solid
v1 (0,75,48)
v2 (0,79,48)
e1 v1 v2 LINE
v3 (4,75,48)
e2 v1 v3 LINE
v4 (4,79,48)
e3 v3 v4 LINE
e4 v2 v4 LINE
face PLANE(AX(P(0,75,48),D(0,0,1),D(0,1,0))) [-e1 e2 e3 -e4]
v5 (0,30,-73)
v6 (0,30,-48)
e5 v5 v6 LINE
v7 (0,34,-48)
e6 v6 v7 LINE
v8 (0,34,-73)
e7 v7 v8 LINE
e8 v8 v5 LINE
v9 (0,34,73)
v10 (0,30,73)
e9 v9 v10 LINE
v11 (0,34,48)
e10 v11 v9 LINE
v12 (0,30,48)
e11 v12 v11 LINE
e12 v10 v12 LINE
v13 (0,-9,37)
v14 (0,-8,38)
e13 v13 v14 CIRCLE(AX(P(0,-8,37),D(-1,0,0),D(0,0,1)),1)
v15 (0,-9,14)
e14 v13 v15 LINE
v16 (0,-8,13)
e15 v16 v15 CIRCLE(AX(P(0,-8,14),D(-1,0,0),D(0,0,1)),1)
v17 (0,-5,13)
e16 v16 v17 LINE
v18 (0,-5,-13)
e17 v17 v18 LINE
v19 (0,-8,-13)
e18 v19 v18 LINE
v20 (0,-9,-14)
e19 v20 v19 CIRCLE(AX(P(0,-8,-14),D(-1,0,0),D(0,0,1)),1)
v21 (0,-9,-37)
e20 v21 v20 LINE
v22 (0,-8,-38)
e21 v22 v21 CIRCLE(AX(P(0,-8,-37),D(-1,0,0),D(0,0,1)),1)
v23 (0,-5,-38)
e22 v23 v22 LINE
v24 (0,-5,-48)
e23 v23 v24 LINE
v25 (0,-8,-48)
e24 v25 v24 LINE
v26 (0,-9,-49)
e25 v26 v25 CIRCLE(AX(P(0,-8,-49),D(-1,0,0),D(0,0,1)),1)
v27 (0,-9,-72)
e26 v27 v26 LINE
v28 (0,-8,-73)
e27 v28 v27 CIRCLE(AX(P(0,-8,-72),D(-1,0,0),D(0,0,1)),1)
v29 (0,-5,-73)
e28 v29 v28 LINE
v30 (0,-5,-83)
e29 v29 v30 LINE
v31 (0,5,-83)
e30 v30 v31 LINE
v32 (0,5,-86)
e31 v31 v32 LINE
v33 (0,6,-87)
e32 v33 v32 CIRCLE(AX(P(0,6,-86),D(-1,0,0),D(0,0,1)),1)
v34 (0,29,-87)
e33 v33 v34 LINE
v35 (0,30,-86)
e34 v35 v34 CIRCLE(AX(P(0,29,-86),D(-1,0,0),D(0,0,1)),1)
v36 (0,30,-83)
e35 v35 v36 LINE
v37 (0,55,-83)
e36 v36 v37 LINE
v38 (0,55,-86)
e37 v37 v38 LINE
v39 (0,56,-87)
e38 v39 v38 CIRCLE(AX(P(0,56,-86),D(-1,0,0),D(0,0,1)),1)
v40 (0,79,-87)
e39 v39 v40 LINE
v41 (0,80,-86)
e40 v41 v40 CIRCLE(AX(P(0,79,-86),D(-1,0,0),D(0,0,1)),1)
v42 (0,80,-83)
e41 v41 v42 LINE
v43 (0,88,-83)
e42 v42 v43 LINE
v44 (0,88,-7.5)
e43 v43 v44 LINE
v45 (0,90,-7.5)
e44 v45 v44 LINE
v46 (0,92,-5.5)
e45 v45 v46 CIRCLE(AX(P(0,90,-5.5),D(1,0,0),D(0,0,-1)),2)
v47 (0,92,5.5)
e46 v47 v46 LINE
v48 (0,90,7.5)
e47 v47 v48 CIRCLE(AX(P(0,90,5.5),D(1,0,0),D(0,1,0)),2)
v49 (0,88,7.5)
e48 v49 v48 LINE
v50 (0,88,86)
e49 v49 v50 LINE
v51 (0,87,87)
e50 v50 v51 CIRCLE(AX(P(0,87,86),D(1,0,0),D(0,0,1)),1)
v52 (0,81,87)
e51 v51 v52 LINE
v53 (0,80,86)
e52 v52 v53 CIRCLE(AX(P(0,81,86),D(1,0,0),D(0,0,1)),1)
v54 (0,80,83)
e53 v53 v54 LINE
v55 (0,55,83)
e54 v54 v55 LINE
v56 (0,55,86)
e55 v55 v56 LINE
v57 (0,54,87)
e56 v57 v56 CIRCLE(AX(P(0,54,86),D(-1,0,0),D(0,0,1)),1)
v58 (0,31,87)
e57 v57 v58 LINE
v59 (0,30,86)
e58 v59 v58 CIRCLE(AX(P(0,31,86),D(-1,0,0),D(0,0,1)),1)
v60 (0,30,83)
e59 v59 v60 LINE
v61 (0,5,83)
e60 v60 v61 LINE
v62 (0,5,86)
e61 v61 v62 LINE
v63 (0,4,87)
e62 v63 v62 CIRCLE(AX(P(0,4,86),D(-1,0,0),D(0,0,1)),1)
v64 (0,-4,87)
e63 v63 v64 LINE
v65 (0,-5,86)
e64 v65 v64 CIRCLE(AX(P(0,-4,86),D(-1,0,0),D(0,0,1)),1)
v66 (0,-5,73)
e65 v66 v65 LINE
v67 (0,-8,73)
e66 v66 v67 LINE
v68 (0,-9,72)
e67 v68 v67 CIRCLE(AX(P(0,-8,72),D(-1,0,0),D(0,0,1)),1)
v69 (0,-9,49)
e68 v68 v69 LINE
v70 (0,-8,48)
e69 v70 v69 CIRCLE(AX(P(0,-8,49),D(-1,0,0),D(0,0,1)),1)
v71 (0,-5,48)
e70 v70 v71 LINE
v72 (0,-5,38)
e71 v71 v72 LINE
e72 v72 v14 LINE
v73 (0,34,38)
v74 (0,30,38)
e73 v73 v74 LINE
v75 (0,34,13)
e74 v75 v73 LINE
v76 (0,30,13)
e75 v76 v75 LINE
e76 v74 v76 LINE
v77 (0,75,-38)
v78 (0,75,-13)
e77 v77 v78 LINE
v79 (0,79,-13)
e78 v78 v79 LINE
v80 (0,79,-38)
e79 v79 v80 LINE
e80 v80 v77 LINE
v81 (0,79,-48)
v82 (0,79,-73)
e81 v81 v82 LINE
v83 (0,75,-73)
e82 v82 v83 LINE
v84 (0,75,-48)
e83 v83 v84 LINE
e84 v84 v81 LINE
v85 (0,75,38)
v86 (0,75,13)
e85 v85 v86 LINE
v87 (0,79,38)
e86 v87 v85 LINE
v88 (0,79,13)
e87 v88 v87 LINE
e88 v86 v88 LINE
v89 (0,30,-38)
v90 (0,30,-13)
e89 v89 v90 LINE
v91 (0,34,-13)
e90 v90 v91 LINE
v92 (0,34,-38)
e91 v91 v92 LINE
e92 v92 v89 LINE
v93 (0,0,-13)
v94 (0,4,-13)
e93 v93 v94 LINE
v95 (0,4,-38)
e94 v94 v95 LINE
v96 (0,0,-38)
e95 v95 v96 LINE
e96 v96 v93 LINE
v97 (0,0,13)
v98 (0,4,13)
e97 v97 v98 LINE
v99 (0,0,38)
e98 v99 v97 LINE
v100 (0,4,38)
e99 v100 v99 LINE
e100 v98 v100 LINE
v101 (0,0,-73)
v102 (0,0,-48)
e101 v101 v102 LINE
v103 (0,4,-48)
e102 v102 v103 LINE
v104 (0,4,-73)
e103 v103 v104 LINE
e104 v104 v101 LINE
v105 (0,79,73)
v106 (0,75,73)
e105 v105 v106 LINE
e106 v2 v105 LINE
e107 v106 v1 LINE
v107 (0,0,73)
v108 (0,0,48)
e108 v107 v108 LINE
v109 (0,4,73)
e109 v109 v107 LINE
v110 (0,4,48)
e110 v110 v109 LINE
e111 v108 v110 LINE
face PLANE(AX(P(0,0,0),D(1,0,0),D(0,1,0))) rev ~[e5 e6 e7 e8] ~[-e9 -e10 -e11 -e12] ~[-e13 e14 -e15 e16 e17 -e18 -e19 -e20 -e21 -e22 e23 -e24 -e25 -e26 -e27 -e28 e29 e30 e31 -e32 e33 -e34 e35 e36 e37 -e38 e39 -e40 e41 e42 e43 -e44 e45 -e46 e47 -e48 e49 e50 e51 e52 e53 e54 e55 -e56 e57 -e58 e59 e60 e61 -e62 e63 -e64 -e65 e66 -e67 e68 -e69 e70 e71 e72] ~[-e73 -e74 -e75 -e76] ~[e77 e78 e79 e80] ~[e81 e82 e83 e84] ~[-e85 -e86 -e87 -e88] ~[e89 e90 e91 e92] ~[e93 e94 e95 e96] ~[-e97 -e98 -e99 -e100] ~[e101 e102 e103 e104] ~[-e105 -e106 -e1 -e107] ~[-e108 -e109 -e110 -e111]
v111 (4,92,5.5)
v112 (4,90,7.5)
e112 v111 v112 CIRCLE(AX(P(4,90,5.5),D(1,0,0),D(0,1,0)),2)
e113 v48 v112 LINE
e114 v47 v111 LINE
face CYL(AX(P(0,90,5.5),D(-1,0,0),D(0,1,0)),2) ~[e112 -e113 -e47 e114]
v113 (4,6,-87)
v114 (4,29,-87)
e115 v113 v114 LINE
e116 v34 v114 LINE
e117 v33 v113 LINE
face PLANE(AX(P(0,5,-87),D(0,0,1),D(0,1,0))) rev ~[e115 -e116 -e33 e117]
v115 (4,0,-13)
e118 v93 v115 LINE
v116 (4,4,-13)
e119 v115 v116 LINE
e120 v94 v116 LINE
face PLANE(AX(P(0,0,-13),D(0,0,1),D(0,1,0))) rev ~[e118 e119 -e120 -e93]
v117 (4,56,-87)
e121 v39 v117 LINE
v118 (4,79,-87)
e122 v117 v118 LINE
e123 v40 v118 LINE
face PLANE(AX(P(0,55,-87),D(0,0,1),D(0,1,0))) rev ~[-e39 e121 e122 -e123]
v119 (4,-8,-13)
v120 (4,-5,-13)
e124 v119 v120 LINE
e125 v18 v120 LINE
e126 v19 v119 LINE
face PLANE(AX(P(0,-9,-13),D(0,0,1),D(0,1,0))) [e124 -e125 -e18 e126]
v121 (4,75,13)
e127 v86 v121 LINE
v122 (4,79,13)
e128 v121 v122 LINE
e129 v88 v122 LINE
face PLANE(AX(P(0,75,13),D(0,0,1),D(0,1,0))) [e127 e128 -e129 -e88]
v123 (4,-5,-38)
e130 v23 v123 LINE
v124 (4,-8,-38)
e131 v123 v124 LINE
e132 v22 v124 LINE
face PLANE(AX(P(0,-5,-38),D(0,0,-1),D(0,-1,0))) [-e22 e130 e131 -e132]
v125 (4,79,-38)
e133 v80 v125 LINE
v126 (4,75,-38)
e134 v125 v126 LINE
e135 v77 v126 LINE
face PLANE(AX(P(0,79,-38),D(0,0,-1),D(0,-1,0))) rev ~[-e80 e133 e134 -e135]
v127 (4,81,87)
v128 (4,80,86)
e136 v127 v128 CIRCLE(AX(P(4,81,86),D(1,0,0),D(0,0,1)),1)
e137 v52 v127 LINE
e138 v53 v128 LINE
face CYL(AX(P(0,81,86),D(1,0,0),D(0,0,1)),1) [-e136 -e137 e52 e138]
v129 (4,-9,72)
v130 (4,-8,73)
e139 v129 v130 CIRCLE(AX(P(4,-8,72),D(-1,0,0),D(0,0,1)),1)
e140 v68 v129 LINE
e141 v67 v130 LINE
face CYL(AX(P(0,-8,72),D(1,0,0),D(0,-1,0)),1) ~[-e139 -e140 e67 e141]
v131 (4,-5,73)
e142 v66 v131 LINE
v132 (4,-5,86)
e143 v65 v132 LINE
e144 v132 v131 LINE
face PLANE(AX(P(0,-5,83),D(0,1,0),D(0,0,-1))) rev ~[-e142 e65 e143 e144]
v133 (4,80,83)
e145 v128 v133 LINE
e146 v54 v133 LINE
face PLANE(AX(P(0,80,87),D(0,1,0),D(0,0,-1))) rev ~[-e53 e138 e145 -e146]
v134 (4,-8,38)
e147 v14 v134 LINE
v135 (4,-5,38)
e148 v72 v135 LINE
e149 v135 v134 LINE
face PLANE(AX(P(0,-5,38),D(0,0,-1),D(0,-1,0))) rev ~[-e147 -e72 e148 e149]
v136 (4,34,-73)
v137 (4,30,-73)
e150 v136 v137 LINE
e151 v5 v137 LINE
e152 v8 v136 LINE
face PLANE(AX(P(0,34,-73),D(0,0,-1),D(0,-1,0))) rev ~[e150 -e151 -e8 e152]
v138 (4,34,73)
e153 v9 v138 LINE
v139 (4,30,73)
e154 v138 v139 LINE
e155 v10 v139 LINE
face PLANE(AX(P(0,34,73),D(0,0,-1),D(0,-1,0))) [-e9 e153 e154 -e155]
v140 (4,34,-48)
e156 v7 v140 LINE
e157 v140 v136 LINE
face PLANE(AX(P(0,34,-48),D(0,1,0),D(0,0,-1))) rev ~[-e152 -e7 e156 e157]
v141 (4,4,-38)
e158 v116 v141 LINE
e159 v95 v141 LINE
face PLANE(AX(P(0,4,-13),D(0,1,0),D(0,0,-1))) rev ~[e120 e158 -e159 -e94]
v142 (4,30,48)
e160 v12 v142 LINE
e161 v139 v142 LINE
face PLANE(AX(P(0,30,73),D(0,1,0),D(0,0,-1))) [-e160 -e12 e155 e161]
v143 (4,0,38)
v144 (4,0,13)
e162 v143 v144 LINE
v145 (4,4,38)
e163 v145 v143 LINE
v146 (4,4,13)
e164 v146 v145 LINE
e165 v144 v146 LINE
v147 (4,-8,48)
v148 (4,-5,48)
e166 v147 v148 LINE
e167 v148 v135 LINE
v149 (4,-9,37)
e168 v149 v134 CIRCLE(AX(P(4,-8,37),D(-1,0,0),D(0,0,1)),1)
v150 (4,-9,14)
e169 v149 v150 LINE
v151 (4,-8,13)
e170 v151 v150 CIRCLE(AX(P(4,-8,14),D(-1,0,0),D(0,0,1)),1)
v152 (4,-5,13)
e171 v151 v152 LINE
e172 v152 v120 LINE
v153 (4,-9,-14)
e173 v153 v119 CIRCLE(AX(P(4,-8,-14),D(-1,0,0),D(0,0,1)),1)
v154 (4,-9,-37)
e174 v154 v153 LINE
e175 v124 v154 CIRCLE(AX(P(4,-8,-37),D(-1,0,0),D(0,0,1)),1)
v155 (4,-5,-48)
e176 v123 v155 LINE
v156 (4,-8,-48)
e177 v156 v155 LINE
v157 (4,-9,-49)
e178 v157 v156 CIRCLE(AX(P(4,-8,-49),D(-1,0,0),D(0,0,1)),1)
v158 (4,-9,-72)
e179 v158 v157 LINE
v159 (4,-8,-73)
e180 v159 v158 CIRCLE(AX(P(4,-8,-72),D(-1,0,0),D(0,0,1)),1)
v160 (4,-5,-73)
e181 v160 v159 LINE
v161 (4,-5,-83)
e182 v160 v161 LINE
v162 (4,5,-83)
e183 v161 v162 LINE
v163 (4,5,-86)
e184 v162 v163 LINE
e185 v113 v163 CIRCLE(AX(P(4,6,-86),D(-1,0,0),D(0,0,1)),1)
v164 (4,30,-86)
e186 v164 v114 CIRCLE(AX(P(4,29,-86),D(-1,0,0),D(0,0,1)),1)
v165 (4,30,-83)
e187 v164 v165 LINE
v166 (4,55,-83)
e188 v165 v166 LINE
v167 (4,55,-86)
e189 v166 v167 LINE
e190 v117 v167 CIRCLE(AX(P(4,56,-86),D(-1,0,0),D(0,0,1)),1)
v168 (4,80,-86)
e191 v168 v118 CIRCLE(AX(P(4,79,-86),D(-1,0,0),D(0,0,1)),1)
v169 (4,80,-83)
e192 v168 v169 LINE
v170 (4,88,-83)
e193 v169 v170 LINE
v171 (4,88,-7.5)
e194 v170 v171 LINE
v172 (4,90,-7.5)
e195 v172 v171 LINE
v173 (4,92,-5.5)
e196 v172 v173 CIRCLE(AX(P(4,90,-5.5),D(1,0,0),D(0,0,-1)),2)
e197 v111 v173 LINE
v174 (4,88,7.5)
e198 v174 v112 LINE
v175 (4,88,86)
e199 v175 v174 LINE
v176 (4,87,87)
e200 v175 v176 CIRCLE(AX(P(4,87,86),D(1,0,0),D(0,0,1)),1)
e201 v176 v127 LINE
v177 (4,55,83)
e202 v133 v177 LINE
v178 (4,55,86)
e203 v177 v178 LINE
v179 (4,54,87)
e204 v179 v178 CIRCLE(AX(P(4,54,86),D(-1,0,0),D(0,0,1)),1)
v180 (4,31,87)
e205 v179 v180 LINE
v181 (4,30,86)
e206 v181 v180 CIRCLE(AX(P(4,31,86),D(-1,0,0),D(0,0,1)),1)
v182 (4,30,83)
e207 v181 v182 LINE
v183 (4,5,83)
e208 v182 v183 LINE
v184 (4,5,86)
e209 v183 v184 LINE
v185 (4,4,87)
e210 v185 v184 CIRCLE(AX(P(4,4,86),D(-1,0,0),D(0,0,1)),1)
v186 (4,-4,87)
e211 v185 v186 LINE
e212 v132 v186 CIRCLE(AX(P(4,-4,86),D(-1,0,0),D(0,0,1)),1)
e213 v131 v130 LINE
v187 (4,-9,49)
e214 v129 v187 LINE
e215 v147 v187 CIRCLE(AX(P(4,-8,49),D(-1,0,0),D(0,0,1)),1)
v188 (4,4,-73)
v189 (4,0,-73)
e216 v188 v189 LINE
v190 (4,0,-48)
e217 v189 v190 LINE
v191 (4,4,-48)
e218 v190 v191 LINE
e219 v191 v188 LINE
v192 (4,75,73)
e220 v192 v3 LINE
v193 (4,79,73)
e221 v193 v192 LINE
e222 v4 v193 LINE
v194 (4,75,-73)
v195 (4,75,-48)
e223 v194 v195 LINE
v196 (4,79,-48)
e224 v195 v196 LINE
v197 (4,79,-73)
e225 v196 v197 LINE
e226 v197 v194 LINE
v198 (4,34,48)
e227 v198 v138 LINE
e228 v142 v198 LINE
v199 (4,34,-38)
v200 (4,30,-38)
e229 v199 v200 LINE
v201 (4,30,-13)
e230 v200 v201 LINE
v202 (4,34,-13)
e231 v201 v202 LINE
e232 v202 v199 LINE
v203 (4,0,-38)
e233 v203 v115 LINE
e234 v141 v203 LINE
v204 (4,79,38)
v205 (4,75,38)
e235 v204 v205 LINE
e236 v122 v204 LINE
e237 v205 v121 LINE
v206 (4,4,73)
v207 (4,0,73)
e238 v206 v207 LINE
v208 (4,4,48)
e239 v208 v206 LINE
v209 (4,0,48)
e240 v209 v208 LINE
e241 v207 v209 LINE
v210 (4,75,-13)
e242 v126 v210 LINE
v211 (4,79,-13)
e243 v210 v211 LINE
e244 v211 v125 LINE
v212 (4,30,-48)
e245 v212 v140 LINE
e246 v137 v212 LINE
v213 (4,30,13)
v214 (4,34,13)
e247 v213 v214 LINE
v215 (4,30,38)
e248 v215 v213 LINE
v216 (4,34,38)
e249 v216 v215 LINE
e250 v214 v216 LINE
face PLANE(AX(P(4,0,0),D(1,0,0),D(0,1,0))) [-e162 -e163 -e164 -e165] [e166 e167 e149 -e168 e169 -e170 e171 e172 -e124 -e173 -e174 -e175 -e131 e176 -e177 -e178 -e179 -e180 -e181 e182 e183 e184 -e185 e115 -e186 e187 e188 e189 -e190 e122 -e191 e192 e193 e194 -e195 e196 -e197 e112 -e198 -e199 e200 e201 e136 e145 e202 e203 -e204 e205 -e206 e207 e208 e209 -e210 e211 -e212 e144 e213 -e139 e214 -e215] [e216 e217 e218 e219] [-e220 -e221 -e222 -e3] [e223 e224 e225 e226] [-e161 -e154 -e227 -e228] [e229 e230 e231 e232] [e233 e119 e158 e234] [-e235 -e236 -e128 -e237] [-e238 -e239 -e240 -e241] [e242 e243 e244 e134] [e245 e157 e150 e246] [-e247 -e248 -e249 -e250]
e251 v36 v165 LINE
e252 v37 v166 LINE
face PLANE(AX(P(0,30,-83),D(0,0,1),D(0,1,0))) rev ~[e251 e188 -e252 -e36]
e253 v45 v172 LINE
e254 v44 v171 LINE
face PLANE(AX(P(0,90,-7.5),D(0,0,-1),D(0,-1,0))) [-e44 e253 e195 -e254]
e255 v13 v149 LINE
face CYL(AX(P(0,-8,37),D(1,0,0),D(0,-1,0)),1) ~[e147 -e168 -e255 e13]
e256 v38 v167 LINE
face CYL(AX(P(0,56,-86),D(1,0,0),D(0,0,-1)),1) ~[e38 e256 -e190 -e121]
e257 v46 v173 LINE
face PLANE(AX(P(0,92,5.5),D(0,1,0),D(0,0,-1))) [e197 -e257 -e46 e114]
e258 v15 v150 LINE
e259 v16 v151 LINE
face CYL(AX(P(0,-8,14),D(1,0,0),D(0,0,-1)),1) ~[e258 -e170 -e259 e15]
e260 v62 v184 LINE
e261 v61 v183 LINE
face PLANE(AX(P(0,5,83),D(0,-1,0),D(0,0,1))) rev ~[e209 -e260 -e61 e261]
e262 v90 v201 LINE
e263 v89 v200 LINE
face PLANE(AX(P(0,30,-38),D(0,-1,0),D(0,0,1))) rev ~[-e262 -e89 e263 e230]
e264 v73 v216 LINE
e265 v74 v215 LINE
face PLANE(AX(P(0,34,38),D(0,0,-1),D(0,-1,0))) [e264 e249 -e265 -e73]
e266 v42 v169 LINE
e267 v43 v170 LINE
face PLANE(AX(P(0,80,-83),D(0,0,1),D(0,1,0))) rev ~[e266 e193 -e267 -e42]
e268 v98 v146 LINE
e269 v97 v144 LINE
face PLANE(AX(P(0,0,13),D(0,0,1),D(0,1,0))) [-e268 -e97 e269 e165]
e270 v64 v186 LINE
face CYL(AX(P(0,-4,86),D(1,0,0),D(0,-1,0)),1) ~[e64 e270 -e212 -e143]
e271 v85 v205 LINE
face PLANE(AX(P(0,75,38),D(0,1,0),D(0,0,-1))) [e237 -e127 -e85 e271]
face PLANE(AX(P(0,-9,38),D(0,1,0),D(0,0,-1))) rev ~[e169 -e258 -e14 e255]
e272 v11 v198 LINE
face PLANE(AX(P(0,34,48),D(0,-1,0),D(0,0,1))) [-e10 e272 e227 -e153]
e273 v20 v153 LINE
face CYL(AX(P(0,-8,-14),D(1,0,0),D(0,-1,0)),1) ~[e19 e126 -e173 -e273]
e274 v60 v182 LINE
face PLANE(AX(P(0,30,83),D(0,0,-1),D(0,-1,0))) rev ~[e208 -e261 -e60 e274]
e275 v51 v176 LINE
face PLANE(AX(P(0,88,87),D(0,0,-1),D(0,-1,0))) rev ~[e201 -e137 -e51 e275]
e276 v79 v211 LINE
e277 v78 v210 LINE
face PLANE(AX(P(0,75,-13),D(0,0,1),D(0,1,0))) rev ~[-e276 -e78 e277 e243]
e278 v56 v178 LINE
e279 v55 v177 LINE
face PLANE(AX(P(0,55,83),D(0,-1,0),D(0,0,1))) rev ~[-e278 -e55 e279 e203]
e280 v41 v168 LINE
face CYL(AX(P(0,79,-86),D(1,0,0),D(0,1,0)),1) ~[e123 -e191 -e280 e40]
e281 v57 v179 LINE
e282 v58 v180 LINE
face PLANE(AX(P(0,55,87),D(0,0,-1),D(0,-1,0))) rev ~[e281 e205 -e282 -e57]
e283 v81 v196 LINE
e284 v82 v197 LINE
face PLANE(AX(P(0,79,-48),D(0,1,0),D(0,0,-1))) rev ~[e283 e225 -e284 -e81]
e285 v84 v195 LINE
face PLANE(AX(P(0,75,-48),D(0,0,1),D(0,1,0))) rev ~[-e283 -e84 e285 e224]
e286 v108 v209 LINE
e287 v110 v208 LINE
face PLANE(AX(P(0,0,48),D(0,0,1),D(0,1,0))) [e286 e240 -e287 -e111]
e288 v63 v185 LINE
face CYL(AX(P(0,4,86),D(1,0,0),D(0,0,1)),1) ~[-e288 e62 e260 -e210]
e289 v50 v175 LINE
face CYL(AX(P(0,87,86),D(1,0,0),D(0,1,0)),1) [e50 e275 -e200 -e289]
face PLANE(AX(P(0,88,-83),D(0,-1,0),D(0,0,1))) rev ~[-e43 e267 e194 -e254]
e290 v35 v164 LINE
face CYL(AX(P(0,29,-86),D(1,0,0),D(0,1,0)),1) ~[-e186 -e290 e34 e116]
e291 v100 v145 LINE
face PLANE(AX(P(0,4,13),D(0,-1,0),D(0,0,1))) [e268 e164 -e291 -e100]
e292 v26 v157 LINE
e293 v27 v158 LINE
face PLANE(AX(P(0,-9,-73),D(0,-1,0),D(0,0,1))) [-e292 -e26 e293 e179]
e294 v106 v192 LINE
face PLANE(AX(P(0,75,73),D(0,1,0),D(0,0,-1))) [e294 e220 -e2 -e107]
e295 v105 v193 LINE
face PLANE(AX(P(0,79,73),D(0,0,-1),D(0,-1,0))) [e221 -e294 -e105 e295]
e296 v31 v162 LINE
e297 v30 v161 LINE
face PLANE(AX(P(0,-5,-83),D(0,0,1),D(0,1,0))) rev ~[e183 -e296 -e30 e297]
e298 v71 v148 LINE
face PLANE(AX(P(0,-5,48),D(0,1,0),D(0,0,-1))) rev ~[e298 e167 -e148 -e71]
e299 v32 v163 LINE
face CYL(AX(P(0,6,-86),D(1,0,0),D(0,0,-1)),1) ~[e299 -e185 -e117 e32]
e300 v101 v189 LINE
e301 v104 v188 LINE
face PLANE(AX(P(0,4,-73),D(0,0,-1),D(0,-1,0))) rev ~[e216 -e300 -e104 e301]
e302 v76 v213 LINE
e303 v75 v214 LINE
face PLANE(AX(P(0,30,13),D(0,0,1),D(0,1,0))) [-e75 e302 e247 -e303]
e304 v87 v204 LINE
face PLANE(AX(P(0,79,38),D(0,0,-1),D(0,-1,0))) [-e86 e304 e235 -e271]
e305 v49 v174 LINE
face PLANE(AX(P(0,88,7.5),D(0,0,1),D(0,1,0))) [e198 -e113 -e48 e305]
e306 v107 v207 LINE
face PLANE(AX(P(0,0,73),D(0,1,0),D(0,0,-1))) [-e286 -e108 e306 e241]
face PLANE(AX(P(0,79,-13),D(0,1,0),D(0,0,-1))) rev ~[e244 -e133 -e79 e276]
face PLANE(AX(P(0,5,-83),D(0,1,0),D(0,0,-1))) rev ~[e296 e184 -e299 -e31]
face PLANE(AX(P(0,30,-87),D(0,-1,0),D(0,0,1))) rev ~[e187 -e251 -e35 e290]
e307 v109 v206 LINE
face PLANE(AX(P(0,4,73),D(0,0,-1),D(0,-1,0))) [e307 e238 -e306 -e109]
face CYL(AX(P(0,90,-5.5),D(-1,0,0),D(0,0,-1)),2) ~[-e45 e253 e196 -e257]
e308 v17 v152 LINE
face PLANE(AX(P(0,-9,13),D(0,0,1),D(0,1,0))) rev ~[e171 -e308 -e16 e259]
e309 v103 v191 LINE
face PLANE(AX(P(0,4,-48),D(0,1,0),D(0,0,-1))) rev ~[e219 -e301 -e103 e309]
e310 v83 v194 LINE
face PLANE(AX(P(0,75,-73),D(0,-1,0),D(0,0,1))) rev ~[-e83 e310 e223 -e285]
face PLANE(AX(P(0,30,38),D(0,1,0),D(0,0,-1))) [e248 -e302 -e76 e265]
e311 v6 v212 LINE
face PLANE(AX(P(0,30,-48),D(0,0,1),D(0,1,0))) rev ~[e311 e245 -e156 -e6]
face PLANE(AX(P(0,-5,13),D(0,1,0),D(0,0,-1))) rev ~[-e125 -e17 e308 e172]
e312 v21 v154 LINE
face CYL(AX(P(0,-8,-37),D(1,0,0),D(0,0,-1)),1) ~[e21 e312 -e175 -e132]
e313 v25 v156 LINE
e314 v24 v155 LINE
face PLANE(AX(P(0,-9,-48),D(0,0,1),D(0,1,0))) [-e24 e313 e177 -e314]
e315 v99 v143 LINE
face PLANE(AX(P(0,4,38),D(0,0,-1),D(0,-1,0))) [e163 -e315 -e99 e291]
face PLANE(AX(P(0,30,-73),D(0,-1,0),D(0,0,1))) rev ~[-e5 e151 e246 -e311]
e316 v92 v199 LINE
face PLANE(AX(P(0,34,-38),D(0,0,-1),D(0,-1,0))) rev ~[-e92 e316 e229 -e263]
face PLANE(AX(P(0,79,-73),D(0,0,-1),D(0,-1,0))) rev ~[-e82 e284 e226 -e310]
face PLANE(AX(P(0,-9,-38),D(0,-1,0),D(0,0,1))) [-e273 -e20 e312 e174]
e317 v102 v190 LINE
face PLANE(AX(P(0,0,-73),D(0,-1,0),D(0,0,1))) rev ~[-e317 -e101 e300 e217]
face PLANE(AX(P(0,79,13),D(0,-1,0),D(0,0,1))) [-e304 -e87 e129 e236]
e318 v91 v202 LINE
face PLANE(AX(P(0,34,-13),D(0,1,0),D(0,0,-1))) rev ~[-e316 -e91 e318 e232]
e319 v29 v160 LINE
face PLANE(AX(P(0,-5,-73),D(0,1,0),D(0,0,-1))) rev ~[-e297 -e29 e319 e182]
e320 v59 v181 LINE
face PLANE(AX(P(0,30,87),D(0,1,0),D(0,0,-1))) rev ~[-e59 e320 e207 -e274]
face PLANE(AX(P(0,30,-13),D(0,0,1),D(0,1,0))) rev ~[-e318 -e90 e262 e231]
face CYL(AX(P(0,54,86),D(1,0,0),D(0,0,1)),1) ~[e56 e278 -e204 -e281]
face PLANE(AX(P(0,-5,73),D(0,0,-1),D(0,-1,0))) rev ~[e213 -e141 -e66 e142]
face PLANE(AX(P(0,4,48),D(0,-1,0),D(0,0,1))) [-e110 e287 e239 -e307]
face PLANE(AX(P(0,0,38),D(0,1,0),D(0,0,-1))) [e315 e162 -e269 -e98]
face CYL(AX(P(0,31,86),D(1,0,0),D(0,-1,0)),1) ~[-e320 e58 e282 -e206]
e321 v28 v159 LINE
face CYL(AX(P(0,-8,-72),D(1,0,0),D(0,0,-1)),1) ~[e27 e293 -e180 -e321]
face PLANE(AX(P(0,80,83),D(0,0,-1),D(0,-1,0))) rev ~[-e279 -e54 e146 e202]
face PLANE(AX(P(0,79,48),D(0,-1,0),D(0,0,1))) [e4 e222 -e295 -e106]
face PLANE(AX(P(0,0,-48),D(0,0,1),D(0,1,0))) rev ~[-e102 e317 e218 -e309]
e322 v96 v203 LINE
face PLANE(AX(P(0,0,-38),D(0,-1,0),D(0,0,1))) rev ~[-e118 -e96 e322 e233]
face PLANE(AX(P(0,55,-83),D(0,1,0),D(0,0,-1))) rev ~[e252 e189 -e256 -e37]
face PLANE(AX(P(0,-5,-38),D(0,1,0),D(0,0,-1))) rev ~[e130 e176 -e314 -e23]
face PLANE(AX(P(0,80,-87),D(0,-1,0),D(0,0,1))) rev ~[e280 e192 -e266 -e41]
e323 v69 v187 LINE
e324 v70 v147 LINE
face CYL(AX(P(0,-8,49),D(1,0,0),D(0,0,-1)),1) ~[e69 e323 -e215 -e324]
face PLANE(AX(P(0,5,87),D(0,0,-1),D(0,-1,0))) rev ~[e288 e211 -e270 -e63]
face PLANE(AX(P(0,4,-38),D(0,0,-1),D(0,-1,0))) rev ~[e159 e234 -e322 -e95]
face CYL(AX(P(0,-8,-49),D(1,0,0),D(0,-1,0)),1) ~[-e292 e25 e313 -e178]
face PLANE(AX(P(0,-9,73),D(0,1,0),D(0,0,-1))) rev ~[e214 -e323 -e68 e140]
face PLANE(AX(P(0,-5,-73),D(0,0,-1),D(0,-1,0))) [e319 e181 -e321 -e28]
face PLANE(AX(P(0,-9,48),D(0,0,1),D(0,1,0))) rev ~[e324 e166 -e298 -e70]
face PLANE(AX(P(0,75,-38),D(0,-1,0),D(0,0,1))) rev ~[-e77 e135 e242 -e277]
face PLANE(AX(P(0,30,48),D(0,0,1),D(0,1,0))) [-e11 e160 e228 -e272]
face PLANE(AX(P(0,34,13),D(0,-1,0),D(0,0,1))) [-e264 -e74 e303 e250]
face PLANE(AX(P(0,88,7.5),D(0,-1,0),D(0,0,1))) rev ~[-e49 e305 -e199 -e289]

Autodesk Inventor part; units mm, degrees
ref_plane "YZ Plane" through (0, 0, 0) normal (1, 0, 0) x (0, 1, 0)
ref_plane "XZ Plane" through (0, 0, 0) normal (0, 1, 0) x (-1, 0, 0)
ref_plane "XY Plane" through (0, 0, 0) normal (0, 0, 1) x (1, 0, 0)
sketch "Sketch1" plane through (0, 0, 0) normal (1, 0, 0) x (0, 1, 0)
  line L0 (79, 73) -> (75, 73)
  line L1 (75, 73) -> (75, 48)
  line L2 (75, 48) -> (79, 48)
  line L3 (79, 48) -> (79, 73)
  line L4 (79, 38) -> (75, 38)
  line L5 (75, 38) -> (75, 13)
  line L6 (75, 13) -> (79, 13)
  line L7 (79, 13) -> (79, 38)
  line L8 (-29.2828, 0) -> (112.6971, 0) construction
  line L9 (79, -73) -> (75, -73)
  line L10 (75, -73) -> (75, -48)
  line L11 (75, -48) -> (79, -48)
  line L12 (79, -48) -> (79, -73)
  line L13 (79, -38) -> (75, -38)
  line L14 (75, -38) -> (75, -13)
  line L15 (75, -13) -> (79, -13)
  line L16 (79, -13) -> (79, -38)
  line L17 (0, 13) -> (4, 13)
  line L18 (4, 38) -> (0, 38)
  line L19 (0, 38) -> (0, 13)
  line L20 (0, 48) -> (4, 48)
  line L21 (4, 73) -> (0, 73)
  line L22 (0, 73) -> (0, 48)
  line L23 (4, 48) -> (4, 73)
  line L24 (4, 13) -> (4, 38)
  line L25 (0, -13) -> (4, -13)
  line L26 (4, -13) -> (4, -38)
  line L27 (0, -38) -> (0, -13)
  line L28 (0, -48) -> (4, -48)
  line L29 (4, -73) -> (0, -73)
  line L30 (4, -48) -> (4, -73)
  line L31 (0, -73) -> (0, -48)
  line L32 (4, -38) -> (0, -38)
  line L33 (30, 13) -> (34, 13)
  line L34 (30, 38) -> (30, 13)
  line L35 (34, 13) -> (34, 38)
  line L36 (34, 38) -> (30, 38)
  line L37 (34, -73) -> (30, -73)
  line L38 (30, -73) -> (30, -48)
  line L39 (30, -48) -> (34, -48)
  line L40 (34, -48) -> (34, -73)
  line L41 (30, -38) -> (30, -13)
  line L42 (34, -38) -> (30, -38)
  line L43 (34, -13) -> (34, -38)
  line L44 (30, -13) -> (34, -13)
  line L45 (34, 73) -> (30, 73)
  line L46 (30, 73) -> (30, 48)
  line L47 (30, 48) -> (34, 48)
  line L48 (34, 48) -> (34, 73)
  line L49 (88, 83) -> (-5, 83)
  line L50 (-5, 83) -> (-5, -83)
  line L51 (-5, -83) -> (88, -83)
  line L52 (88, -83) -> (88, 83)
  line L53 (80, -83) -> (55, -83)
  line L54 (55, -83) -> (55, -87)
  line L55 (55, -87) -> (80, -87)
  line L56 (80, -87) -> (80, -83)
  line L57 (5, -87) -> (30, -87)
  line L58 (30, -87) -> (30, -83)
  line L59 (30, -83) -> (5, -83)
  line L60 (5, -83) -> (5, -87)
  line L61 (-5, -13) -> (-5, -38)
  line L62 (-9, -13) -> (-5, -13)
  line L63 (-9, -38) -> (-9, -13)
  line L64 (-9, 48) -> (-5, 48)
  line L65 (-9, 73) -> (-9, 48)
  line L66 (-5, 73) -> (-9, 73)
  line L67 (-5, 48) -> (-5, 73)
  line L68 (-5, -38) -> (-9, -38)
  line L69 (-5, -73) -> (-9, -73)
  line L70 (-5, -48) -> (-5, -73)
  line L71 (-9, -73) -> (-9, -48)
  line L72 (-9, -48) -> (-5, -48)
  line L73 (-9, 13) -> (-5, 13)
  line L74 (-5, 13) -> (-5, 38)
  line L75 (-5, 38) -> (-9, 38)
  line L76 (-9, 38) -> (-9, 13)
  line L77 (88, 7.5) -> (90, 7.5)
  line L78 (92, 5.5) -> (92, -5.5)
  line L79 (90, -7.5) -> (88, -7.5)
  line L80 (88, -7.5) -> (88, 7.5)
  arc A0 (92, 5.5) -> (90, 7.5) centre (90, 5.5) ccw
  arc A1 (90, -7.5) -> (92, -5.5) centre (90, -5.5) ccw
  line L81 (88, 87) -> (80, 87)
  line L82 (80, 87) -> (80, 83)
  line L83 (80, 83) -> (88, 83)
  line L84 (88, 83) -> (88, 87)
  line L85 (-5, 83) -> (5, 83)
  line L86 (5, 83) -> (5, 87)
  line L87 (5, 87) -> (-5, 87)
  line L88 (-5, 87) -> (-5, 83)
  line L89 (30, 83) -> (55, 83)
  line L90 (55, 83) -> (55, 87)
  line L91 (55, 87) -> (30, 87)
  line L92 (30, 87) -> (30, 83)
  point P0 (0, 0)
  point P1 (77, 73)
  point P2 (77, -73)
  point P3 (2, 73)
  point P4 (2, -73)
  point P5 (32, -73)
  point P6 (32, 73)
  point P7 (5, -85)
  point P8 (-9, 0)
  point P9 (-7, 73)
  point P10 (-7, -73)
  point P11 (-5, 38)
  point P12 (-5, -38)
  point P13 (92, -7.5)
  point P14 (92, 7.5)
  point P15 (92, 0)
  point P16 (-5, 38)
  point P17 (-5, -38)
  point P18 (-5, 83)
  dimension "d0" = 4
  dimension "d1" = 25
  dimension "d2" = 25
  dimension "d3" = 10
  dimension "d4" = 4
  dimension "d5" = 13
  dimension "d14" = 75
  dimension "d17" = 75
  dimension "d24" = 45
  dimension "d29" = 9
  dimension "d30" = 5
  dimension "d31" = 10
  dimension "d32" = 10
  dimension "d33" = 25
  dimension "d34" = 25
  dimension "d35" = 25
  dimension "d36" = 10
  dimension "d39" = 9
  dimension "d46" = 15
  dimension "d47" = 4
  dimension "d48" = 2
  dimension "d49" = 2
extrude "Extrusion1" add sketch "Sketch1" along normal blind 4
fillet "Fillet1" radius 1 18 edges at (2, 88, 87) (2, 80, 87) (2, 55, 87) (2, 30, 87) (2, 5, 87) (2, -5, 87) (2, -9, 73) (2, -9, 38) (2, -9, -13) (2, -9, 48) (2, -9, 13) (2, -9, -38) (2, -9, -48) (2, -9, -73) (2, 5, -87) (2, 30, -87) (2, 55, -87) (2, 80, -87)
properties part number "Side" material "Wood (Birch)"
